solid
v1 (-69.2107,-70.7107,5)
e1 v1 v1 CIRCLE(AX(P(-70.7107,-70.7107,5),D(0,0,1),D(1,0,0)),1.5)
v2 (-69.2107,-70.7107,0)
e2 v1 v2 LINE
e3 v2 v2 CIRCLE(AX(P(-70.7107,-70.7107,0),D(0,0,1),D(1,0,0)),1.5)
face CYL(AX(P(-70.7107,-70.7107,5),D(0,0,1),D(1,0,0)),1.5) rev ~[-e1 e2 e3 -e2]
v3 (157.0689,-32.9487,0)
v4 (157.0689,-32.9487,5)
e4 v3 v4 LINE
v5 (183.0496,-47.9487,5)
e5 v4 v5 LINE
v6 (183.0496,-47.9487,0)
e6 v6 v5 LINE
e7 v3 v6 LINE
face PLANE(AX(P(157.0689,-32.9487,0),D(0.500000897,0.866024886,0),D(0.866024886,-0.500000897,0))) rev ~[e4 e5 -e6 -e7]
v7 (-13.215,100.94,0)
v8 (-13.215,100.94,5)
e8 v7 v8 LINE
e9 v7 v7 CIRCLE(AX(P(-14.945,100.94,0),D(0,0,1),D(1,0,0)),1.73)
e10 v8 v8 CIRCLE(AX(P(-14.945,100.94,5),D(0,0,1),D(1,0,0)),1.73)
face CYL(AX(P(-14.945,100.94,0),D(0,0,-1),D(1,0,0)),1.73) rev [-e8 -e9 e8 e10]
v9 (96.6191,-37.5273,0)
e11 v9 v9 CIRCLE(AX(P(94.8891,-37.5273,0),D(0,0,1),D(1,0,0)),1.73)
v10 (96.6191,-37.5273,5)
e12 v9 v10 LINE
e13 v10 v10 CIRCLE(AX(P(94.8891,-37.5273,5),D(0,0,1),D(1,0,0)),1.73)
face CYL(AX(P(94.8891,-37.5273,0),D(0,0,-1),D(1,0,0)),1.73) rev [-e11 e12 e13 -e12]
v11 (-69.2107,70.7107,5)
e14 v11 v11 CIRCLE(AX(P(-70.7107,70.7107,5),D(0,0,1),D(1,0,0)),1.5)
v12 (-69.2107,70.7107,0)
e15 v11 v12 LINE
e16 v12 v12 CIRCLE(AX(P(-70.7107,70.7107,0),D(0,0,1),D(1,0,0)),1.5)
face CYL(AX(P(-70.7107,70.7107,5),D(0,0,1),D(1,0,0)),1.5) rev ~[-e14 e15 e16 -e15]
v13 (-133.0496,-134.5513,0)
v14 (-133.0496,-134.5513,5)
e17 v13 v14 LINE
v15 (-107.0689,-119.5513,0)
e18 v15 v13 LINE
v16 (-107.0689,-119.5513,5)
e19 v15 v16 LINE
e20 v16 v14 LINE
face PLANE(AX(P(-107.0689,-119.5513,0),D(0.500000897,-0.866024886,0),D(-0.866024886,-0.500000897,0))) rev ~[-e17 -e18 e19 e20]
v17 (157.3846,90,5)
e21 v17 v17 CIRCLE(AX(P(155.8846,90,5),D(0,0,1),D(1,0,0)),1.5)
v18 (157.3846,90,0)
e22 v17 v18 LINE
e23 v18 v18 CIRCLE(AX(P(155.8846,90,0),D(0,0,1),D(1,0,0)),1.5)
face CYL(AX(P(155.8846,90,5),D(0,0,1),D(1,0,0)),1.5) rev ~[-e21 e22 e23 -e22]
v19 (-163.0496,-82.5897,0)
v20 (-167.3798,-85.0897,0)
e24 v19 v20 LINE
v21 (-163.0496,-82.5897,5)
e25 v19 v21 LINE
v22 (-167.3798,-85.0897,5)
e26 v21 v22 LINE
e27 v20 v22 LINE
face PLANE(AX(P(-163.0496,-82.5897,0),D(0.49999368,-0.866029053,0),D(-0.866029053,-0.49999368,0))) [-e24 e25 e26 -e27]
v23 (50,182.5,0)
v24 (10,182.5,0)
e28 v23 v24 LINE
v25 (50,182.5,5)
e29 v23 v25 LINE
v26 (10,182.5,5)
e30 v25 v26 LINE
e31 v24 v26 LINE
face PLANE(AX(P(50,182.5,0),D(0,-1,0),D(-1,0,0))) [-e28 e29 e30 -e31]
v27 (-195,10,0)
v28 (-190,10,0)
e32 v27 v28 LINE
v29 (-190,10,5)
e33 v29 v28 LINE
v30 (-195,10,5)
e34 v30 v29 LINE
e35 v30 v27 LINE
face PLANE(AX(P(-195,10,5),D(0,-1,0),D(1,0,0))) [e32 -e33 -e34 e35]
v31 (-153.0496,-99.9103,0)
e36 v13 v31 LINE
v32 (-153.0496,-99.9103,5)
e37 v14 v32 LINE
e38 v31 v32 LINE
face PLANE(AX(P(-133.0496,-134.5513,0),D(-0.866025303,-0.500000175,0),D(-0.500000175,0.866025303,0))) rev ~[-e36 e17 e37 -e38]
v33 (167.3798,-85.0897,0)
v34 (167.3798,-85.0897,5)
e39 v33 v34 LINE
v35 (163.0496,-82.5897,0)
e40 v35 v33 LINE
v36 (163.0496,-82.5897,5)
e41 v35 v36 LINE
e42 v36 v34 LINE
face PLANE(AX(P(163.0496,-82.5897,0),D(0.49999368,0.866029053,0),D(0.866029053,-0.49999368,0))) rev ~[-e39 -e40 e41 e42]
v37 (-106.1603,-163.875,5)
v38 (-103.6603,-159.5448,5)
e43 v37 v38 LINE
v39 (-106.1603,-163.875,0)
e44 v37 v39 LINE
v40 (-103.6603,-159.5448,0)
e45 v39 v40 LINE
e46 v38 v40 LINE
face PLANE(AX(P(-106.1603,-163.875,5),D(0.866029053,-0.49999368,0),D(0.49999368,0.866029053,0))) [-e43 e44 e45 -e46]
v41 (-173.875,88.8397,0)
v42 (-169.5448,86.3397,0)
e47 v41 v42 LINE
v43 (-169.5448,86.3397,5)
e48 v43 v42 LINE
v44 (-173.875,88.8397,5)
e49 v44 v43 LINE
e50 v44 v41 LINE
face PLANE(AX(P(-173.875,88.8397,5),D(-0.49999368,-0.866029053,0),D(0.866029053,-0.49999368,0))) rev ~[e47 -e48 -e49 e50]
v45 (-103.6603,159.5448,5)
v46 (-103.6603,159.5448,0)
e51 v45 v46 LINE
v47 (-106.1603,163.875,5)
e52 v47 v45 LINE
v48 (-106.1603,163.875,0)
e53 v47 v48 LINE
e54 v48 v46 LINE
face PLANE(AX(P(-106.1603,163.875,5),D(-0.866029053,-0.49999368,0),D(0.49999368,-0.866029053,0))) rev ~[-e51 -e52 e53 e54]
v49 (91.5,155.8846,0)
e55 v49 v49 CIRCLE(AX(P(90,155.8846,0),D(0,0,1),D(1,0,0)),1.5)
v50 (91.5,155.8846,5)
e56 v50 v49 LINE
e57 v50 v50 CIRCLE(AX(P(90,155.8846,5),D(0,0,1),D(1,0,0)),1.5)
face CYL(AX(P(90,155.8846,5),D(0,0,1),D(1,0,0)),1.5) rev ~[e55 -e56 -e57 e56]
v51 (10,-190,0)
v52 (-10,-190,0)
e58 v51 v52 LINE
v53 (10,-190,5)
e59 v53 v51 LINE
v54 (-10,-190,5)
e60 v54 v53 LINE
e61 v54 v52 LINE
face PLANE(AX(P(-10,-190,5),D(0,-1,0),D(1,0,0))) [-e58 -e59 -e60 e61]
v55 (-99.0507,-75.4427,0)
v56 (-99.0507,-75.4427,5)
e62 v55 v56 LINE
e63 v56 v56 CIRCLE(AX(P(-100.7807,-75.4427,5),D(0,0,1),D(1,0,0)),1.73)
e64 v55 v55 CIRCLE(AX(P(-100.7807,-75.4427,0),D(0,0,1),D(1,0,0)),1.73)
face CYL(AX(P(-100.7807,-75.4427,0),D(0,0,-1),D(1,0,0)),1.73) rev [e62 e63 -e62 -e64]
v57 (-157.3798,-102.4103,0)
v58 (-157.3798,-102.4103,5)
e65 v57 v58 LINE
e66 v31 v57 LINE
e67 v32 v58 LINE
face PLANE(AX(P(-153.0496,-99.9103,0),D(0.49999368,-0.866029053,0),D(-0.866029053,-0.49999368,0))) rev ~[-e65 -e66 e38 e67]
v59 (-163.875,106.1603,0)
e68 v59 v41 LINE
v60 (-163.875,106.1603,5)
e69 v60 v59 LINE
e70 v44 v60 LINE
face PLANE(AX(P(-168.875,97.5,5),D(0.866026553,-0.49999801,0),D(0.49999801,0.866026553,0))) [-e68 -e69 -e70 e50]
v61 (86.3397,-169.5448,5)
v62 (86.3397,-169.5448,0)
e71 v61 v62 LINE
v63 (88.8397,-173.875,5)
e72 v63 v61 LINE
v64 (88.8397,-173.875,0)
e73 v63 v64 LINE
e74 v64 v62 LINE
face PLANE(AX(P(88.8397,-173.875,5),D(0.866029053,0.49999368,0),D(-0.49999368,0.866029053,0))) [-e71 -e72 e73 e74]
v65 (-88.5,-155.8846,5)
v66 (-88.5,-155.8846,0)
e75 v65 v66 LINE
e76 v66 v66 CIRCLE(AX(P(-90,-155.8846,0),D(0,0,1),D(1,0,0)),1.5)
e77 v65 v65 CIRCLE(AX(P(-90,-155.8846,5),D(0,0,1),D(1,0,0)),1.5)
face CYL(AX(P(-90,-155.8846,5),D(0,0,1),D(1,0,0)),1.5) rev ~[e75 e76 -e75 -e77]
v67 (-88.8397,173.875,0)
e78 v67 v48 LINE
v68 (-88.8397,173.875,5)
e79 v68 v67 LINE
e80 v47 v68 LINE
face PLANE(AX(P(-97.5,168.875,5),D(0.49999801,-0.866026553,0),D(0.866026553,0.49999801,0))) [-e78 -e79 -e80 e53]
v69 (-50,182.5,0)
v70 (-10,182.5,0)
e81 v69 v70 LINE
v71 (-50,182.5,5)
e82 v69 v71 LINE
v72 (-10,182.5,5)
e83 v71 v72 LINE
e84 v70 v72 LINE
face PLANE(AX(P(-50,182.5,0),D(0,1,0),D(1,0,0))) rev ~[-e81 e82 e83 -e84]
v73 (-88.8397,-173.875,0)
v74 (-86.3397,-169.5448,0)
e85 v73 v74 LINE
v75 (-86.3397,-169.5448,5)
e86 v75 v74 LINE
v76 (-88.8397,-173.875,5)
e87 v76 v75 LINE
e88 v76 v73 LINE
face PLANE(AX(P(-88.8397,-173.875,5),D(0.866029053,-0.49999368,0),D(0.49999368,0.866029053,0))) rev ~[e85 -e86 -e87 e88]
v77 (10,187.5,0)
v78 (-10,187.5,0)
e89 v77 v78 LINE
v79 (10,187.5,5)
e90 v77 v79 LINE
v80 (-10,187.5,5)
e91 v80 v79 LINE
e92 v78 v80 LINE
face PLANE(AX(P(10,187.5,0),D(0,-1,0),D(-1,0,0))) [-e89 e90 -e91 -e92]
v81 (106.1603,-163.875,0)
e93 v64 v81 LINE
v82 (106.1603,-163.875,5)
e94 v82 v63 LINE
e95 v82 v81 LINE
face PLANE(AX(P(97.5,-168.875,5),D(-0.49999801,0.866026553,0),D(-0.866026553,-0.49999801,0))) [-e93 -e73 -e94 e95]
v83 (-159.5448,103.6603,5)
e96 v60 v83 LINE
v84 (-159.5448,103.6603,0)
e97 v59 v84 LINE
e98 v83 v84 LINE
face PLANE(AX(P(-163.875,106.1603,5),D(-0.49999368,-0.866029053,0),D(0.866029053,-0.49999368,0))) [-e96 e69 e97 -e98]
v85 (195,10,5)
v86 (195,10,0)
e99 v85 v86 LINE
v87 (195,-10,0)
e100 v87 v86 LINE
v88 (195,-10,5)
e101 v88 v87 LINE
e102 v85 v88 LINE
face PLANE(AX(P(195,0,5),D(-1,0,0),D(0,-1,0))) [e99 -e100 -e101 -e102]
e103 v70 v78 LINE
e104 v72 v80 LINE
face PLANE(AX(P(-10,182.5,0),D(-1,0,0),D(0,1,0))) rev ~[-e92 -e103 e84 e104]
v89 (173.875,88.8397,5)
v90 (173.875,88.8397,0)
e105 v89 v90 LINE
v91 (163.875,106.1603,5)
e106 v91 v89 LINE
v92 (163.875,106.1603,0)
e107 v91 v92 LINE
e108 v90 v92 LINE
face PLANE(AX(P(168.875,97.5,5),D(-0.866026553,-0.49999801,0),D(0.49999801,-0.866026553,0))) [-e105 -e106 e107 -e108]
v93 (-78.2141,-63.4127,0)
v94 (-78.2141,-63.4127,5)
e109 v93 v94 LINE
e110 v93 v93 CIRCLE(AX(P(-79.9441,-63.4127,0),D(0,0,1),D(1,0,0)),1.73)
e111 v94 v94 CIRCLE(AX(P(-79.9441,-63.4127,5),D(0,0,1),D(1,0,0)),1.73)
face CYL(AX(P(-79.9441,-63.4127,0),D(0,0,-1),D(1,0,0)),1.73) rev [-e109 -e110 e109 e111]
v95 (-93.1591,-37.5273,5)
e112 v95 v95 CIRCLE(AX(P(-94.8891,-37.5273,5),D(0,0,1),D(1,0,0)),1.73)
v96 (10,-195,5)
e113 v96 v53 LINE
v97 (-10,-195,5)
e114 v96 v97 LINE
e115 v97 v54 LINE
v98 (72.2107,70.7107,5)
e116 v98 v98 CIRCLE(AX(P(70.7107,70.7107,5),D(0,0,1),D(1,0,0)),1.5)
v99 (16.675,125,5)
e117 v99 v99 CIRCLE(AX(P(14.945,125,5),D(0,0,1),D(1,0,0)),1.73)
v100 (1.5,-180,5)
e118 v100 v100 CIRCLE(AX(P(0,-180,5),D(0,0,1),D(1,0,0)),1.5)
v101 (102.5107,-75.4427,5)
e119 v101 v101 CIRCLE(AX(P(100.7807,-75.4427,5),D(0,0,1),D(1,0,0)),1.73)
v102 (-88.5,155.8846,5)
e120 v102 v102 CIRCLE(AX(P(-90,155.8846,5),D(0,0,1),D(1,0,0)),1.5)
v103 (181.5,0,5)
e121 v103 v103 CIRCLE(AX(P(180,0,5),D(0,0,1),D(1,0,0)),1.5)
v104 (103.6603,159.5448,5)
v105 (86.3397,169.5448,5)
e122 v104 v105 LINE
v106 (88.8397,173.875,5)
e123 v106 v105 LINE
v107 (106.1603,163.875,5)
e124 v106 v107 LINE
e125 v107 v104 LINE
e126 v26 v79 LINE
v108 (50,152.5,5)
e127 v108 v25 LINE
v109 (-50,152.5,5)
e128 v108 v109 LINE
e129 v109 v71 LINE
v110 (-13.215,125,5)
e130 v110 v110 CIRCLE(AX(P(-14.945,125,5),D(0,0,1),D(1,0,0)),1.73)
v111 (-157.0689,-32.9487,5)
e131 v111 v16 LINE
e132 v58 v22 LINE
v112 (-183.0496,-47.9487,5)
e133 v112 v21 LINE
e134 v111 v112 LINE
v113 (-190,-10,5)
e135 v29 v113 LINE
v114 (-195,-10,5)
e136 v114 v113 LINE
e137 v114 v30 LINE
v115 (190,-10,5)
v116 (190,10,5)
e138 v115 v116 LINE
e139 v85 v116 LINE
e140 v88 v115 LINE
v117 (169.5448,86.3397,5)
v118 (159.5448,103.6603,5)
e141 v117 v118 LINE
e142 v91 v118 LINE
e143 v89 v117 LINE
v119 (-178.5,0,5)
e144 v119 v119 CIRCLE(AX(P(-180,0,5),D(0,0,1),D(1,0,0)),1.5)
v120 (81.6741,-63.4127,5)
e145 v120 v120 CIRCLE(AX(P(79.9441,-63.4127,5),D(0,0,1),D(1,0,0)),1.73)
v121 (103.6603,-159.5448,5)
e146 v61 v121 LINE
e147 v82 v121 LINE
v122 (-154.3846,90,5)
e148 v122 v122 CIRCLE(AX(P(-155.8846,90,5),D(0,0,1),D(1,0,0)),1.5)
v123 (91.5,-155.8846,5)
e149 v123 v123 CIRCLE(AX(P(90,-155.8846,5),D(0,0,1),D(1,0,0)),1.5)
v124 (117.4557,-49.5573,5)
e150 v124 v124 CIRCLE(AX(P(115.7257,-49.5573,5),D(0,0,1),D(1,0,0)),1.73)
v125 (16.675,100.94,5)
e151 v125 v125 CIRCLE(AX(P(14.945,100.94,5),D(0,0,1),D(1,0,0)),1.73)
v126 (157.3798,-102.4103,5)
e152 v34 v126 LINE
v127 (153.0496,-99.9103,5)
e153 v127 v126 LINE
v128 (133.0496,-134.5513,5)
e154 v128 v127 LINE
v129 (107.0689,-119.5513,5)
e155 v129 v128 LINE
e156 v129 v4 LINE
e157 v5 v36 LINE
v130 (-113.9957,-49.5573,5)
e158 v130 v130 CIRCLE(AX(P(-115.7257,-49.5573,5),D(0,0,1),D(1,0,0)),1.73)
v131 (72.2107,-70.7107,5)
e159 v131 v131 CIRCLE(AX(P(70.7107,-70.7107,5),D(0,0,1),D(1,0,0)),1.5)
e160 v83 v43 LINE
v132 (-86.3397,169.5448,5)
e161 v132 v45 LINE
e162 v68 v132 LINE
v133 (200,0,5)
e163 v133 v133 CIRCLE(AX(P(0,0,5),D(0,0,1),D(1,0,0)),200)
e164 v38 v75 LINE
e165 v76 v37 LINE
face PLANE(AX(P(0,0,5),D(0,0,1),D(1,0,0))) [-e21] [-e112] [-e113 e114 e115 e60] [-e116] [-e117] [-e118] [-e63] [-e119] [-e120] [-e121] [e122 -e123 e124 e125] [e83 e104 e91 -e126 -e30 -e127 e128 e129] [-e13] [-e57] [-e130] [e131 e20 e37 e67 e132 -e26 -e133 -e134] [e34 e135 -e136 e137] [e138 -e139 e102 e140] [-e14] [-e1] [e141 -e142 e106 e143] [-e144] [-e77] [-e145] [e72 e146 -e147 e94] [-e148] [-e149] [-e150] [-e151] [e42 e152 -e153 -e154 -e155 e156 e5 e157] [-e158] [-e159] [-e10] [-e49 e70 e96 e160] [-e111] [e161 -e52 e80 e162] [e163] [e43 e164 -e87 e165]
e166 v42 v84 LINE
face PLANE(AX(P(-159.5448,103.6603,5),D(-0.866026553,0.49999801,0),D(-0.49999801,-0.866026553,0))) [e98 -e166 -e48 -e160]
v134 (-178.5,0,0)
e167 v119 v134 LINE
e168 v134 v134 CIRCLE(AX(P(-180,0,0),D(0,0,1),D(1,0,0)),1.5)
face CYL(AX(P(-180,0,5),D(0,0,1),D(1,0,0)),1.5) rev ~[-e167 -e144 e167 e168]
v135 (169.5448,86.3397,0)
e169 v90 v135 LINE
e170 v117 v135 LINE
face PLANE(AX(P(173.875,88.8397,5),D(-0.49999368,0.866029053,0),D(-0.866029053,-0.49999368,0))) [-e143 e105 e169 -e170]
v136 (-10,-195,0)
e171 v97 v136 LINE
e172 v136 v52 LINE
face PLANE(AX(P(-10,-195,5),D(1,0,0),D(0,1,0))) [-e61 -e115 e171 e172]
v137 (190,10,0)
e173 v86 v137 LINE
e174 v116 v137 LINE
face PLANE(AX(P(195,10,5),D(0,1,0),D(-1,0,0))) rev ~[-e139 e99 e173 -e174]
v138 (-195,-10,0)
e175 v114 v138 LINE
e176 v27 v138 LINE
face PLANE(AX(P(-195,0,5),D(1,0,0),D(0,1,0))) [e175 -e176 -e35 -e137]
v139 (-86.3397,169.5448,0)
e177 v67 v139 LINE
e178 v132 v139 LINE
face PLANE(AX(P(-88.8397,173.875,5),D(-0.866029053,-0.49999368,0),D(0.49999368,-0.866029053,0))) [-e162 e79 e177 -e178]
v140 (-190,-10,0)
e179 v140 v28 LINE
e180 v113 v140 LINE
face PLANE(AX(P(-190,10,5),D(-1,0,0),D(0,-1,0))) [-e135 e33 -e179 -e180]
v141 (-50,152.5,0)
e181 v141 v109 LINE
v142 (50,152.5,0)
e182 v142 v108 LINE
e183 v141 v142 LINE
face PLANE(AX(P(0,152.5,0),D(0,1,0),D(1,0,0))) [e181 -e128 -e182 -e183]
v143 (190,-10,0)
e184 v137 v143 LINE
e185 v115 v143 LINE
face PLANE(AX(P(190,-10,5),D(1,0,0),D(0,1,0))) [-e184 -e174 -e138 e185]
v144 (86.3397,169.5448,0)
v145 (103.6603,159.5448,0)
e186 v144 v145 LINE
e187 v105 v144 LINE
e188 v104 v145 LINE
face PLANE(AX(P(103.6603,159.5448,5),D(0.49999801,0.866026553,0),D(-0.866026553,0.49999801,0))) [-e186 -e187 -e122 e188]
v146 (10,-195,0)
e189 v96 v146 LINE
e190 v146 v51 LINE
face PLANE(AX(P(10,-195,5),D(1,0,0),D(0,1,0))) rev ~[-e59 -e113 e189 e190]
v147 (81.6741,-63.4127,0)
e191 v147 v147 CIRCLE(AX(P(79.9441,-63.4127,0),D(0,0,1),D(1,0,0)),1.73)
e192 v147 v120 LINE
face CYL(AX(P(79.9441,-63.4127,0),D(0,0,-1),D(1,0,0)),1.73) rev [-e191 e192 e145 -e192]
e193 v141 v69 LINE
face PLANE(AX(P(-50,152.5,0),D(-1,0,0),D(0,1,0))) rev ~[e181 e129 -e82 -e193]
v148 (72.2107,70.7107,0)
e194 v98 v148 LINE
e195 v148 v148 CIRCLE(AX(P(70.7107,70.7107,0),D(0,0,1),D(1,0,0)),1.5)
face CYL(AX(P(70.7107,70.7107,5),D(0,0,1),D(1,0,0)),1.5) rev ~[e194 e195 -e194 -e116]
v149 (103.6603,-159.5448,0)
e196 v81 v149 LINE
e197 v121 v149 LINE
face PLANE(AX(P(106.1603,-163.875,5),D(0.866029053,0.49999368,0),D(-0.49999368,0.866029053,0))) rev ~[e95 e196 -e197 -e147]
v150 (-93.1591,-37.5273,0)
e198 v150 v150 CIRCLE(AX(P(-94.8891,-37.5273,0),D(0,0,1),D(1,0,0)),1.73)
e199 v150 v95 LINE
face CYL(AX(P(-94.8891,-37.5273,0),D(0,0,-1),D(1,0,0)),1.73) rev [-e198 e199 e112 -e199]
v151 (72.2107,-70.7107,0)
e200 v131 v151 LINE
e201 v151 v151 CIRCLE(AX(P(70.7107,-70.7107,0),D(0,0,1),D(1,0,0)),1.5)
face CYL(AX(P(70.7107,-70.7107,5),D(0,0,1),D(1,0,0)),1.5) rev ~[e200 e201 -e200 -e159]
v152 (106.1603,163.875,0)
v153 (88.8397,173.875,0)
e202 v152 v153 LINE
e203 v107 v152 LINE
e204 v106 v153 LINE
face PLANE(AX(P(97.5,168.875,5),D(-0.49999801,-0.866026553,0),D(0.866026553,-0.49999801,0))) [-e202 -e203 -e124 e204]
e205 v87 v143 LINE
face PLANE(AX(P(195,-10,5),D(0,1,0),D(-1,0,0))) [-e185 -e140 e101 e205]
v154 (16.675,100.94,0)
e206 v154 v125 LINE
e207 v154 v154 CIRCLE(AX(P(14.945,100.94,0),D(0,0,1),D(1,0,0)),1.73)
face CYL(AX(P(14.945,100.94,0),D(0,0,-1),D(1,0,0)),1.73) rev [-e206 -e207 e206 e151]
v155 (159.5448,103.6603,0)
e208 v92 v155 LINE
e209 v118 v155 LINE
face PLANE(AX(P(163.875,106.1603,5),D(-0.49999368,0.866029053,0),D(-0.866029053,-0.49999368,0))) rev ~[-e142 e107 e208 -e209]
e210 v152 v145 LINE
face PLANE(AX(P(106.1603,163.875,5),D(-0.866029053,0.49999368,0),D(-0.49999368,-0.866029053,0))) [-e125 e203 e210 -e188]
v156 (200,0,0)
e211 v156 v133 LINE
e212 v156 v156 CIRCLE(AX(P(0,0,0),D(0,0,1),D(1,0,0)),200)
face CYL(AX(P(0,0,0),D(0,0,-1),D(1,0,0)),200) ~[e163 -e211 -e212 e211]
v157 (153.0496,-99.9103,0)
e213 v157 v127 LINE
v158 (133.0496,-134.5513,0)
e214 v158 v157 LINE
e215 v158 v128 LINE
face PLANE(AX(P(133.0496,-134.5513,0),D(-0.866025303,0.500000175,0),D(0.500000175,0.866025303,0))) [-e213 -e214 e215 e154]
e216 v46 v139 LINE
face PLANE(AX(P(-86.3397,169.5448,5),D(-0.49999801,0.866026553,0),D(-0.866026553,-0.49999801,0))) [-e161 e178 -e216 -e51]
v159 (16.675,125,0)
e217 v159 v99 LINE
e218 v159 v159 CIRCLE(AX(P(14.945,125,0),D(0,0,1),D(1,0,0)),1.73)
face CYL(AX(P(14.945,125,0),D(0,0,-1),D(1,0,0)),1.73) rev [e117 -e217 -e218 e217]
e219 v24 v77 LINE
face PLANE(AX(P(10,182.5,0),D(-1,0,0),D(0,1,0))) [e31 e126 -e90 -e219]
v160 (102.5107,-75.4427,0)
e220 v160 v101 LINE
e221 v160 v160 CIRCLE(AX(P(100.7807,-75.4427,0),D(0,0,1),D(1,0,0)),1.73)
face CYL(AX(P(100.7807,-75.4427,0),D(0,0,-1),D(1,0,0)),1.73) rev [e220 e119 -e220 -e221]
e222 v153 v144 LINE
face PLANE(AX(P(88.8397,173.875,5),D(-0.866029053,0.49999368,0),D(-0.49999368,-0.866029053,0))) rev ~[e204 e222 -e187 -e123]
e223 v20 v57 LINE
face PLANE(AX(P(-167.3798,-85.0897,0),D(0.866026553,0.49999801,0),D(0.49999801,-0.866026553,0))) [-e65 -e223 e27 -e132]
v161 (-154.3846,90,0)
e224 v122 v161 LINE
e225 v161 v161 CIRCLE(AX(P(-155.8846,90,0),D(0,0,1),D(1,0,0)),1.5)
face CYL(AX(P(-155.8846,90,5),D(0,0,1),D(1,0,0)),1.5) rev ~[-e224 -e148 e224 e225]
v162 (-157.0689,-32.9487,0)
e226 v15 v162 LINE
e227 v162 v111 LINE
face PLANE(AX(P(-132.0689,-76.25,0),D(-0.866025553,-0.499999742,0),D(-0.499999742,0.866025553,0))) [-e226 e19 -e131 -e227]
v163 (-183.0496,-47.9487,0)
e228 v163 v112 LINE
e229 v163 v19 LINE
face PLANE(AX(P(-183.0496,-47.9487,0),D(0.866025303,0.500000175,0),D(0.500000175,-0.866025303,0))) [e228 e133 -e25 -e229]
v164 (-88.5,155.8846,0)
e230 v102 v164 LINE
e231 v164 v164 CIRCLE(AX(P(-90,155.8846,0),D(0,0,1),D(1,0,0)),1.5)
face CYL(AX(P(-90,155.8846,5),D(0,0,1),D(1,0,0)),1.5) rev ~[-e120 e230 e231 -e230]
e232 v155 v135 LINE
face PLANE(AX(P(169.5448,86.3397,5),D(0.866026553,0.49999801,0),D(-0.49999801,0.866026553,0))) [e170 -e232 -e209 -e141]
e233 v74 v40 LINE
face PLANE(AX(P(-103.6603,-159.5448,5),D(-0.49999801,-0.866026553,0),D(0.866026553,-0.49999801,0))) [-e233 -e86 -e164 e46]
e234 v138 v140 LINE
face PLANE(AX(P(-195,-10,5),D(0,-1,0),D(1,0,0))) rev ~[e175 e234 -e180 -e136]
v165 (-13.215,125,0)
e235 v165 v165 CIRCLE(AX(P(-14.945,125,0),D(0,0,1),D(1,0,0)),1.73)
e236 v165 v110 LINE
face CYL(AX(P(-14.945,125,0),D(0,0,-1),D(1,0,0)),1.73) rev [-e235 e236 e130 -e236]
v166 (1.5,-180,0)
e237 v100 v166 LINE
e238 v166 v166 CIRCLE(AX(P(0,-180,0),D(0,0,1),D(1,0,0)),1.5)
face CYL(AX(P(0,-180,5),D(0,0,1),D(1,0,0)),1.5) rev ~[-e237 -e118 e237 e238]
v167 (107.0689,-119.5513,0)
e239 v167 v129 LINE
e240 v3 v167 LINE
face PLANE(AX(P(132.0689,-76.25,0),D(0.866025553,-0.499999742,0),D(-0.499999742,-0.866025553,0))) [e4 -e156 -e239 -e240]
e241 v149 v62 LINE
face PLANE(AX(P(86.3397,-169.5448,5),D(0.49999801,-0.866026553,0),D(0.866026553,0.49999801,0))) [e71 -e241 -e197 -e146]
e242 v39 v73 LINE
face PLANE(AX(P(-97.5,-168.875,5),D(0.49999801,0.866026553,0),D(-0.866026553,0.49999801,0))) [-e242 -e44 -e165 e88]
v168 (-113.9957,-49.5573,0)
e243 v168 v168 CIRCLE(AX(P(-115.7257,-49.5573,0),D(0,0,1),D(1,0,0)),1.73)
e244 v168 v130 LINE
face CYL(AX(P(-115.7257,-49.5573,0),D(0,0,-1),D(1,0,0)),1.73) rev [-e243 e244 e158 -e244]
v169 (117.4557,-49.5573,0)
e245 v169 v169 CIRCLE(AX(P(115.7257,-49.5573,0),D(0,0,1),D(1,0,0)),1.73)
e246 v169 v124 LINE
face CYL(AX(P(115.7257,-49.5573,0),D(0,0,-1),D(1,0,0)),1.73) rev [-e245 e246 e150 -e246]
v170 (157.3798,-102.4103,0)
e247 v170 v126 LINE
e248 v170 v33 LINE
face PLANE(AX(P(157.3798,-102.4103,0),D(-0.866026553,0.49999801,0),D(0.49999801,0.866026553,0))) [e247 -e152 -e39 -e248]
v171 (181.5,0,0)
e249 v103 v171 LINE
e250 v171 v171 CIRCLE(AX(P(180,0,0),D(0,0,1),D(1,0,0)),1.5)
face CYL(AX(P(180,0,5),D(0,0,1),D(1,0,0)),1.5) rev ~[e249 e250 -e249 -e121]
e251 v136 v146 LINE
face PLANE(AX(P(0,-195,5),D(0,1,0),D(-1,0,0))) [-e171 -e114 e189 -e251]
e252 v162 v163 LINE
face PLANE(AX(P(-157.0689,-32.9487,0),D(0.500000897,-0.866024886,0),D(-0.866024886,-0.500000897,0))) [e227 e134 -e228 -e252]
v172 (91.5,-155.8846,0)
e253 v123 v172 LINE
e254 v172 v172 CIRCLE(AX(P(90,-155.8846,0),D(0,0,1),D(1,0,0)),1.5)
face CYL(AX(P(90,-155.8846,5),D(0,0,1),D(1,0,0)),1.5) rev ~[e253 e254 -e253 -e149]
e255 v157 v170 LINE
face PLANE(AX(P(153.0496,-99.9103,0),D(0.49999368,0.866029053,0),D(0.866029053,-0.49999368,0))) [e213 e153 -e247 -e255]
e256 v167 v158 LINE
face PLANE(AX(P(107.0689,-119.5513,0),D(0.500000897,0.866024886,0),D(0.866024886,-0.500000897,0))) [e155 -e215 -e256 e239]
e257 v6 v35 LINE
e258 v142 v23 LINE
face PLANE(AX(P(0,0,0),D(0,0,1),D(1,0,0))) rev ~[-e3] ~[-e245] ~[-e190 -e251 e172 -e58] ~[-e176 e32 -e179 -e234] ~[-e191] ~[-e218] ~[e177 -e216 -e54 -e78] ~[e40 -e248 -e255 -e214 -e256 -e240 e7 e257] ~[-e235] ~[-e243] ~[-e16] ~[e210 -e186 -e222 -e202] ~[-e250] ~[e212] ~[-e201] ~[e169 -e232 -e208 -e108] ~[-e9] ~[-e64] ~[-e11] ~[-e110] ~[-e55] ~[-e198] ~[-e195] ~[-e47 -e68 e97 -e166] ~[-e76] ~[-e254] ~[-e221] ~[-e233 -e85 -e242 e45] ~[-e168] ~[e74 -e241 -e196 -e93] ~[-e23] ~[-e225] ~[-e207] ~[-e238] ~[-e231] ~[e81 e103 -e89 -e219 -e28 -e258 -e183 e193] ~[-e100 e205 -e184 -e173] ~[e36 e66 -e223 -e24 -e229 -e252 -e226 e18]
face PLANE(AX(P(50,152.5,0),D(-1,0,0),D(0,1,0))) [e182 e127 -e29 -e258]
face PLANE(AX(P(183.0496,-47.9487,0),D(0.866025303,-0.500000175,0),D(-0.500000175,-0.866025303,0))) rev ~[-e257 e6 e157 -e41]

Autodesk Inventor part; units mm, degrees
ref_plane "YZ Plane" through (0, 0, 0) normal (1, 0, 0) x (0, 1, 0)
ref_plane "XZ Plane" through (0, 0, 0) normal (0, 1, 0) x (-1, 0, 0)
ref_plane "XY Plane" through (0, 0, 0) normal (0, 0, 1) x (1, 0, 0)
sketch "Sketch1" plane through (0, 0, 0) normal (0, 0, 1) x (1, 0, 0)
  circle A0 centre (-100.7807, -75.4427) radius 1.73
  circle A1 centre (-79.9441, -63.4127) radius 1.73
  circle A2 centre (79.9441, -63.4127) radius 1.73
  circle A3 centre (115.7257, -49.5573) radius 1.73
  circle A4 centre (94.8891, -37.5273) radius 1.73
  circle A5 centre (100.7807, -75.4427) radius 1.73
  circle A6 centre (-14.945, 125) radius 1.73
  circle A7 centre (-14.945, 100.94) radius 1.73
  circle A8 centre (14.945, 125) radius 1.73
  line L0 (10, 182.5) -> (10, 187.5)
  line L1 (10, 187.5) -> (0, 187.5)
  line L2 (50, 182.5) -> (10, 182.5)
  circle A9 centre (-94.8891, -37.5273) radius 1.73
  circle A10 centre (-115.7257, -49.5573) radius 1.73
  circle A11 centre (0, 0) radius 200
  circle A12 centre (14.945, 100.94) radius 1.73
  line L3 (0, 152.5) -> (50, 152.5)
  line L4 (50, 152.5) -> (50, 182.5)
  line L5 (0, 152.5) -> (-50, 152.5)
  line L6 (-10, 187.5) -> (0, 187.5)
  line L7 (-10, 182.5) -> (-10, 187.5)
  line L8 (-50, 182.5) -> (-10, 182.5)
  line L9 (-50, 152.5) -> (-50, 182.5)
  circle A13 centre (0, 0) radius 200
  line L10 (-163.0496, -82.5897) -> (-167.3798, -85.0897)
  line L11 (-167.3798, -85.0897) -> (-162.3798, -93.75)
  line L12 (-183.0496, -47.9487) -> (-163.0496, -82.5897)
  line L13 (-132.0689, -76.25) -> (-157.0689, -32.9487)
  line L14 (-157.0689, -32.9487) -> (-183.0496, -47.9487)
  line L15 (-132.0689, -76.25) -> (-107.0689, -119.5513)
  line L16 (-157.3798, -102.4103) -> (-162.3798, -93.75)
  line L17 (-153.0496, -99.9103) -> (-157.3798, -102.4103)
  line L18 (-133.0496, -134.5513) -> (-153.0496, -99.9103)
  line L19 (-107.0689, -119.5513) -> (-133.0496, -134.5513)
  circle A14 centre (0, 0) radius 200
  line L20 (153.0496, -99.9103) -> (157.3798, -102.4103)
  line L21 (157.3798, -102.4103) -> (162.3798, -93.75)
  line L22 (133.0496, -134.5513) -> (153.0496, -99.9103)
  line L23 (132.0689, -76.25) -> (107.0689, -119.5513)
  line L24 (107.0689, -119.5513) -> (133.0496, -134.5513)
  line L25 (132.0689, -76.25) -> (157.0689, -32.9487)
  line L26 (167.3798, -85.0897) -> (162.3798, -93.75)
  line L27 (163.0496, -82.5897) -> (167.3798, -85.0897)
  line L28 (183.0496, -47.9487) -> (163.0496, -82.5897)
  line L29 (157.0689, -32.9487) -> (183.0496, -47.9487)
  dimension "d4" = 40
  dimension "d5" = 3.46
  dimension "d6" = 360
  dimension "d7" = 50
  dimension "d8" = 360
extrude "Extrusion1" add sketch "Sketch1" along normal blind 5
sketch "Sketch2" plane through (0, 0, 5) normal (0, 0, 1) x (1, 0, 0)
  circle A0 centre (0, 0) radius 195 construction
  line L0 (0, 195) -> (10, 195)
  line L1 (10, 195) -> (10, 190)
  line L2 (10, 190) -> (0, 190)
  circle A1 centre (0, 0) radius 195 construction
  line L3 (0, 195) -> (-10, 195)
  line L4 (-10, 195) -> (-10, 190)
  line L5 (-10, 190) -> (0, 190)
  circle A2 centre (0, 0) radius 195 construction
  line L6 (97.5, 168.875) -> (106.1603, 163.875)
  line L7 (106.1603, 163.875) -> (103.6603, 159.5448)
  line L8 (103.6603, 159.5448) -> (95, 164.5448)
  circle A3 centre (0, 0) radius 195 construction
  line L9 (97.5, 168.875) -> (88.8397, 173.875)
  line L10 (88.8397, 173.875) -> (86.3397, 169.5448)
  line L11 (86.3397, 169.5448) -> (95, 164.5448)
  circle A4 centre (0, 0) radius 195 construction
  line L12 (168.875, 97.5) -> (173.875, 88.8397)
  line L13 (173.875, 88.8397) -> (169.5448, 86.3397)
  line L14 (169.5448, 86.3397) -> (164.5448, 95)
  circle A5 centre (0, 0) radius 195 construction
  line L15 (168.875, 97.5) -> (163.875, 106.1603)
  line L16 (163.875, 106.1603) -> (159.5448, 103.6603)
  line L17 (159.5448, 103.6603) -> (164.5448, 95)
  circle A6 centre (0, 0) radius 195 construction
  line L18 (195, 0) -> (195, -10)
  line L19 (195, -10) -> (190, -10)
  line L20 (190, -10) -> (190, 0)
  circle A7 centre (0, 0) radius 195 construction
  line L21 (195, 0) -> (195, 10)
  line L22 (195, 10) -> (190, 10)
  line L23 (190, 10) -> (190, 0)
  circle A8 centre (0, 0) radius 195 construction
  line L24 (168.875, -97.5) -> (163.875, -106.1603)
  line L25 (163.875, -106.1603) -> (159.5448, -103.6603)
  line L26 (159.5448, -103.6603) -> (164.5448, -95)
  circle A9 centre (0, 0) radius 195 construction
  line L27 (168.875, -97.5) -> (173.875, -88.8397)
  line L28 (173.875, -88.8397) -> (169.5448, -86.3397)
  line L29 (169.5448, -86.3397) -> (164.5448, -95)
  circle A10 centre (0, 0) radius 195 construction
  line L30 (97.5, -168.875) -> (88.8397, -173.875)
  line L31 (88.8397, -173.875) -> (86.3397, -169.5448)
  line L32 (86.3397, -169.5448) -> (95, -164.5448)
  circle A11 centre (0, 0) radius 195 construction
  line L33 (97.5, -168.875) -> (106.1603, -163.875)
  line L34 (106.1603, -163.875) -> (103.6603, -159.5448)
  line L35 (103.6603, -159.5448) -> (95, -164.5448)
  circle A12 centre (0, 0) radius 195 construction
  line L36 (0, -195) -> (-10, -195)
  line L37 (-10, -195) -> (-10, -190)
  line L38 (-10, -190) -> (0, -190)
  circle A13 centre (0, 0) radius 195 construction
  line L39 (0, -195) -> (10, -195)
  line L40 (10, -195) -> (10, -190)
  line L41 (10, -190) -> (0, -190)
  circle A14 centre (0, 0) radius 195 construction
  line L42 (-97.5, -168.875) -> (-106.1603, -163.875)
  line L43 (-106.1603, -163.875) -> (-103.6603, -159.5448)
  line L44 (-103.6603, -159.5448) -> (-95, -164.5448)
  circle A15 centre (0, 0) radius 195 construction
  line L45 (-97.5, -168.875) -> (-88.8397, -173.875)
  line L46 (-88.8397, -173.875) -> (-86.3397, -169.5448)
  line L47 (-86.3397, -169.5448) -> (-95, -164.5448)
  circle A16 centre (0, 0) radius 195 construction
  line L48 (-168.875, -97.5) -> (-173.875, -88.8397)
  line L49 (-173.875, -88.8397) -> (-169.5448, -86.3397)
  line L50 (-169.5448, -86.3397) -> (-164.5448, -95)
  circle A17 centre (0, 0) radius 195 construction
  line L51 (-168.875, -97.5) -> (-163.875, -106.1603)
  line L52 (-163.875, -106.1603) -> (-159.5448, -103.6603)
  line L53 (-159.5448, -103.6603) -> (-164.5448, -95)
  circle A18 centre (0, 0) radius 195 construction
  line L54 (-195, 0) -> (-195, 10)
  line L55 (-195, 10) -> (-190, 10)
  line L56 (-190, 10) -> (-190, 0)
  circle A19 centre (0, 0) radius 195 construction
  line L57 (-195, 0) -> (-195, -10)
  line L58 (-195, -10) -> (-190, -10)
  line L59 (-190, -10) -> (-190, 0)
  circle A20 centre (0, 0) radius 195 construction
  line L60 (-168.875, 97.5) -> (-163.875, 106.1603)
  line L61 (-163.875, 106.1603) -> (-159.5448, 103.6603)
  line L62 (-159.5448, 103.6603) -> (-164.5448, 95)
  circle A21 centre (0, 0) radius 195 construction
  line L63 (-168.875, 97.5) -> (-173.875, 88.8397)
  line L64 (-173.875, 88.8397) -> (-169.5448, 86.3397)
  line L65 (-169.5448, 86.3397) -> (-164.5448, 95)
  circle A22 centre (0, 0) radius 195 construction
  line L66 (-97.5, 168.875) -> (-88.8397, 173.875)
  line L67 (-88.8397, 173.875) -> (-86.3397, 169.5448)
  line L68 (-86.3397, 169.5448) -> (-95, 164.5448)
  circle A23 centre (0, 0) radius 195 construction
  line L69 (-97.5, 168.875) -> (-106.1603, 163.875)
  line L70 (-106.1603, 163.875) -> (-103.6603, 159.5448)
  line L71 (-103.6603, 159.5448) -> (-95, 164.5448)
  dimension "d11" = 390
  dimension "d12" = 10
  dimension "d13" = 5
  dimension "d16" = 360
extrude "Extrusion2" cut sketch "Sketch2" against normal blind 5 contours L6 L7 L8 L11 L10 L9 | L12 L13 L14 L17 L16 L15 | L18 L19 L20 L23 L22 L21 | L30 L31 L32 L35 L34 L33 | L36 L37 L38 L41 L40 L39 | L42 L43 L44 L47 L46 L45 | L54 L55 L56 L59 L58 L57 | L60 L61 L62 L65 L64 L63 | L66 L67 L68 L71 L70 L69
sketch "Sketch3" plane through (0, 0, 5) normal (0, 0, 1) x (1, 0, 0)
  line L0 (88.8397, 173.875) -> (106.1603, 163.875) projected
  circle A0 centre (90, 155.8846) radius 1.5
  circle A1 centre (0, 180) radius 1.5
  circle A2 centre (-90, 155.8846) radius 1.5
  circle A3 centre (-155.8846, 90) radius 1.5
  circle A4 centre (-180, 0) radius 1.5
  circle A5 centre (-155.8846, -90) radius 1.5
  circle A6 centre (-90, -155.8846) radius 1.5
  circle A7 centre (0, -180) radius 1.5
  circle A8 centre (90, -155.8846) radius 1.5
  circle A9 centre (155.8846, -90) radius 1.5
  circle A10 centre (180, 0) radius 1.5
  circle A11 centre (155.8846, 90) radius 1.5
  point P0 (0, 0)
  point P1 (0, 0)
  dimension "d21" = 3
  dimension "d24" = 360
extrude "Extrusion3" cut sketch "Sketch3" against normal blind 5 contours A0 | A2 | A3 | A4 | A6 | A7 | A8 | A10 | A11
sketch "Sketch4" plane through (0, 0, 5) normal (0, 0, 1) x (1, 0, 0)
  line L0 (0, 0) -> (100, 0) construction
  circle A0 centre (70.7107, 70.7107) radius 1.5
  circle A1 centre (-70.7107, 70.7107) radius 1.5
  circle A2 centre (-70.7107, -70.7107) radius 1.5
  circle A3 centre (70.7107, -70.7107) radius 1.5
  dimension "d30" = 3
  dimension "d33" = 360
extrude "Extrusion4" cut sketch "Sketch4" against normal blind 5
properties part number "De_final"
